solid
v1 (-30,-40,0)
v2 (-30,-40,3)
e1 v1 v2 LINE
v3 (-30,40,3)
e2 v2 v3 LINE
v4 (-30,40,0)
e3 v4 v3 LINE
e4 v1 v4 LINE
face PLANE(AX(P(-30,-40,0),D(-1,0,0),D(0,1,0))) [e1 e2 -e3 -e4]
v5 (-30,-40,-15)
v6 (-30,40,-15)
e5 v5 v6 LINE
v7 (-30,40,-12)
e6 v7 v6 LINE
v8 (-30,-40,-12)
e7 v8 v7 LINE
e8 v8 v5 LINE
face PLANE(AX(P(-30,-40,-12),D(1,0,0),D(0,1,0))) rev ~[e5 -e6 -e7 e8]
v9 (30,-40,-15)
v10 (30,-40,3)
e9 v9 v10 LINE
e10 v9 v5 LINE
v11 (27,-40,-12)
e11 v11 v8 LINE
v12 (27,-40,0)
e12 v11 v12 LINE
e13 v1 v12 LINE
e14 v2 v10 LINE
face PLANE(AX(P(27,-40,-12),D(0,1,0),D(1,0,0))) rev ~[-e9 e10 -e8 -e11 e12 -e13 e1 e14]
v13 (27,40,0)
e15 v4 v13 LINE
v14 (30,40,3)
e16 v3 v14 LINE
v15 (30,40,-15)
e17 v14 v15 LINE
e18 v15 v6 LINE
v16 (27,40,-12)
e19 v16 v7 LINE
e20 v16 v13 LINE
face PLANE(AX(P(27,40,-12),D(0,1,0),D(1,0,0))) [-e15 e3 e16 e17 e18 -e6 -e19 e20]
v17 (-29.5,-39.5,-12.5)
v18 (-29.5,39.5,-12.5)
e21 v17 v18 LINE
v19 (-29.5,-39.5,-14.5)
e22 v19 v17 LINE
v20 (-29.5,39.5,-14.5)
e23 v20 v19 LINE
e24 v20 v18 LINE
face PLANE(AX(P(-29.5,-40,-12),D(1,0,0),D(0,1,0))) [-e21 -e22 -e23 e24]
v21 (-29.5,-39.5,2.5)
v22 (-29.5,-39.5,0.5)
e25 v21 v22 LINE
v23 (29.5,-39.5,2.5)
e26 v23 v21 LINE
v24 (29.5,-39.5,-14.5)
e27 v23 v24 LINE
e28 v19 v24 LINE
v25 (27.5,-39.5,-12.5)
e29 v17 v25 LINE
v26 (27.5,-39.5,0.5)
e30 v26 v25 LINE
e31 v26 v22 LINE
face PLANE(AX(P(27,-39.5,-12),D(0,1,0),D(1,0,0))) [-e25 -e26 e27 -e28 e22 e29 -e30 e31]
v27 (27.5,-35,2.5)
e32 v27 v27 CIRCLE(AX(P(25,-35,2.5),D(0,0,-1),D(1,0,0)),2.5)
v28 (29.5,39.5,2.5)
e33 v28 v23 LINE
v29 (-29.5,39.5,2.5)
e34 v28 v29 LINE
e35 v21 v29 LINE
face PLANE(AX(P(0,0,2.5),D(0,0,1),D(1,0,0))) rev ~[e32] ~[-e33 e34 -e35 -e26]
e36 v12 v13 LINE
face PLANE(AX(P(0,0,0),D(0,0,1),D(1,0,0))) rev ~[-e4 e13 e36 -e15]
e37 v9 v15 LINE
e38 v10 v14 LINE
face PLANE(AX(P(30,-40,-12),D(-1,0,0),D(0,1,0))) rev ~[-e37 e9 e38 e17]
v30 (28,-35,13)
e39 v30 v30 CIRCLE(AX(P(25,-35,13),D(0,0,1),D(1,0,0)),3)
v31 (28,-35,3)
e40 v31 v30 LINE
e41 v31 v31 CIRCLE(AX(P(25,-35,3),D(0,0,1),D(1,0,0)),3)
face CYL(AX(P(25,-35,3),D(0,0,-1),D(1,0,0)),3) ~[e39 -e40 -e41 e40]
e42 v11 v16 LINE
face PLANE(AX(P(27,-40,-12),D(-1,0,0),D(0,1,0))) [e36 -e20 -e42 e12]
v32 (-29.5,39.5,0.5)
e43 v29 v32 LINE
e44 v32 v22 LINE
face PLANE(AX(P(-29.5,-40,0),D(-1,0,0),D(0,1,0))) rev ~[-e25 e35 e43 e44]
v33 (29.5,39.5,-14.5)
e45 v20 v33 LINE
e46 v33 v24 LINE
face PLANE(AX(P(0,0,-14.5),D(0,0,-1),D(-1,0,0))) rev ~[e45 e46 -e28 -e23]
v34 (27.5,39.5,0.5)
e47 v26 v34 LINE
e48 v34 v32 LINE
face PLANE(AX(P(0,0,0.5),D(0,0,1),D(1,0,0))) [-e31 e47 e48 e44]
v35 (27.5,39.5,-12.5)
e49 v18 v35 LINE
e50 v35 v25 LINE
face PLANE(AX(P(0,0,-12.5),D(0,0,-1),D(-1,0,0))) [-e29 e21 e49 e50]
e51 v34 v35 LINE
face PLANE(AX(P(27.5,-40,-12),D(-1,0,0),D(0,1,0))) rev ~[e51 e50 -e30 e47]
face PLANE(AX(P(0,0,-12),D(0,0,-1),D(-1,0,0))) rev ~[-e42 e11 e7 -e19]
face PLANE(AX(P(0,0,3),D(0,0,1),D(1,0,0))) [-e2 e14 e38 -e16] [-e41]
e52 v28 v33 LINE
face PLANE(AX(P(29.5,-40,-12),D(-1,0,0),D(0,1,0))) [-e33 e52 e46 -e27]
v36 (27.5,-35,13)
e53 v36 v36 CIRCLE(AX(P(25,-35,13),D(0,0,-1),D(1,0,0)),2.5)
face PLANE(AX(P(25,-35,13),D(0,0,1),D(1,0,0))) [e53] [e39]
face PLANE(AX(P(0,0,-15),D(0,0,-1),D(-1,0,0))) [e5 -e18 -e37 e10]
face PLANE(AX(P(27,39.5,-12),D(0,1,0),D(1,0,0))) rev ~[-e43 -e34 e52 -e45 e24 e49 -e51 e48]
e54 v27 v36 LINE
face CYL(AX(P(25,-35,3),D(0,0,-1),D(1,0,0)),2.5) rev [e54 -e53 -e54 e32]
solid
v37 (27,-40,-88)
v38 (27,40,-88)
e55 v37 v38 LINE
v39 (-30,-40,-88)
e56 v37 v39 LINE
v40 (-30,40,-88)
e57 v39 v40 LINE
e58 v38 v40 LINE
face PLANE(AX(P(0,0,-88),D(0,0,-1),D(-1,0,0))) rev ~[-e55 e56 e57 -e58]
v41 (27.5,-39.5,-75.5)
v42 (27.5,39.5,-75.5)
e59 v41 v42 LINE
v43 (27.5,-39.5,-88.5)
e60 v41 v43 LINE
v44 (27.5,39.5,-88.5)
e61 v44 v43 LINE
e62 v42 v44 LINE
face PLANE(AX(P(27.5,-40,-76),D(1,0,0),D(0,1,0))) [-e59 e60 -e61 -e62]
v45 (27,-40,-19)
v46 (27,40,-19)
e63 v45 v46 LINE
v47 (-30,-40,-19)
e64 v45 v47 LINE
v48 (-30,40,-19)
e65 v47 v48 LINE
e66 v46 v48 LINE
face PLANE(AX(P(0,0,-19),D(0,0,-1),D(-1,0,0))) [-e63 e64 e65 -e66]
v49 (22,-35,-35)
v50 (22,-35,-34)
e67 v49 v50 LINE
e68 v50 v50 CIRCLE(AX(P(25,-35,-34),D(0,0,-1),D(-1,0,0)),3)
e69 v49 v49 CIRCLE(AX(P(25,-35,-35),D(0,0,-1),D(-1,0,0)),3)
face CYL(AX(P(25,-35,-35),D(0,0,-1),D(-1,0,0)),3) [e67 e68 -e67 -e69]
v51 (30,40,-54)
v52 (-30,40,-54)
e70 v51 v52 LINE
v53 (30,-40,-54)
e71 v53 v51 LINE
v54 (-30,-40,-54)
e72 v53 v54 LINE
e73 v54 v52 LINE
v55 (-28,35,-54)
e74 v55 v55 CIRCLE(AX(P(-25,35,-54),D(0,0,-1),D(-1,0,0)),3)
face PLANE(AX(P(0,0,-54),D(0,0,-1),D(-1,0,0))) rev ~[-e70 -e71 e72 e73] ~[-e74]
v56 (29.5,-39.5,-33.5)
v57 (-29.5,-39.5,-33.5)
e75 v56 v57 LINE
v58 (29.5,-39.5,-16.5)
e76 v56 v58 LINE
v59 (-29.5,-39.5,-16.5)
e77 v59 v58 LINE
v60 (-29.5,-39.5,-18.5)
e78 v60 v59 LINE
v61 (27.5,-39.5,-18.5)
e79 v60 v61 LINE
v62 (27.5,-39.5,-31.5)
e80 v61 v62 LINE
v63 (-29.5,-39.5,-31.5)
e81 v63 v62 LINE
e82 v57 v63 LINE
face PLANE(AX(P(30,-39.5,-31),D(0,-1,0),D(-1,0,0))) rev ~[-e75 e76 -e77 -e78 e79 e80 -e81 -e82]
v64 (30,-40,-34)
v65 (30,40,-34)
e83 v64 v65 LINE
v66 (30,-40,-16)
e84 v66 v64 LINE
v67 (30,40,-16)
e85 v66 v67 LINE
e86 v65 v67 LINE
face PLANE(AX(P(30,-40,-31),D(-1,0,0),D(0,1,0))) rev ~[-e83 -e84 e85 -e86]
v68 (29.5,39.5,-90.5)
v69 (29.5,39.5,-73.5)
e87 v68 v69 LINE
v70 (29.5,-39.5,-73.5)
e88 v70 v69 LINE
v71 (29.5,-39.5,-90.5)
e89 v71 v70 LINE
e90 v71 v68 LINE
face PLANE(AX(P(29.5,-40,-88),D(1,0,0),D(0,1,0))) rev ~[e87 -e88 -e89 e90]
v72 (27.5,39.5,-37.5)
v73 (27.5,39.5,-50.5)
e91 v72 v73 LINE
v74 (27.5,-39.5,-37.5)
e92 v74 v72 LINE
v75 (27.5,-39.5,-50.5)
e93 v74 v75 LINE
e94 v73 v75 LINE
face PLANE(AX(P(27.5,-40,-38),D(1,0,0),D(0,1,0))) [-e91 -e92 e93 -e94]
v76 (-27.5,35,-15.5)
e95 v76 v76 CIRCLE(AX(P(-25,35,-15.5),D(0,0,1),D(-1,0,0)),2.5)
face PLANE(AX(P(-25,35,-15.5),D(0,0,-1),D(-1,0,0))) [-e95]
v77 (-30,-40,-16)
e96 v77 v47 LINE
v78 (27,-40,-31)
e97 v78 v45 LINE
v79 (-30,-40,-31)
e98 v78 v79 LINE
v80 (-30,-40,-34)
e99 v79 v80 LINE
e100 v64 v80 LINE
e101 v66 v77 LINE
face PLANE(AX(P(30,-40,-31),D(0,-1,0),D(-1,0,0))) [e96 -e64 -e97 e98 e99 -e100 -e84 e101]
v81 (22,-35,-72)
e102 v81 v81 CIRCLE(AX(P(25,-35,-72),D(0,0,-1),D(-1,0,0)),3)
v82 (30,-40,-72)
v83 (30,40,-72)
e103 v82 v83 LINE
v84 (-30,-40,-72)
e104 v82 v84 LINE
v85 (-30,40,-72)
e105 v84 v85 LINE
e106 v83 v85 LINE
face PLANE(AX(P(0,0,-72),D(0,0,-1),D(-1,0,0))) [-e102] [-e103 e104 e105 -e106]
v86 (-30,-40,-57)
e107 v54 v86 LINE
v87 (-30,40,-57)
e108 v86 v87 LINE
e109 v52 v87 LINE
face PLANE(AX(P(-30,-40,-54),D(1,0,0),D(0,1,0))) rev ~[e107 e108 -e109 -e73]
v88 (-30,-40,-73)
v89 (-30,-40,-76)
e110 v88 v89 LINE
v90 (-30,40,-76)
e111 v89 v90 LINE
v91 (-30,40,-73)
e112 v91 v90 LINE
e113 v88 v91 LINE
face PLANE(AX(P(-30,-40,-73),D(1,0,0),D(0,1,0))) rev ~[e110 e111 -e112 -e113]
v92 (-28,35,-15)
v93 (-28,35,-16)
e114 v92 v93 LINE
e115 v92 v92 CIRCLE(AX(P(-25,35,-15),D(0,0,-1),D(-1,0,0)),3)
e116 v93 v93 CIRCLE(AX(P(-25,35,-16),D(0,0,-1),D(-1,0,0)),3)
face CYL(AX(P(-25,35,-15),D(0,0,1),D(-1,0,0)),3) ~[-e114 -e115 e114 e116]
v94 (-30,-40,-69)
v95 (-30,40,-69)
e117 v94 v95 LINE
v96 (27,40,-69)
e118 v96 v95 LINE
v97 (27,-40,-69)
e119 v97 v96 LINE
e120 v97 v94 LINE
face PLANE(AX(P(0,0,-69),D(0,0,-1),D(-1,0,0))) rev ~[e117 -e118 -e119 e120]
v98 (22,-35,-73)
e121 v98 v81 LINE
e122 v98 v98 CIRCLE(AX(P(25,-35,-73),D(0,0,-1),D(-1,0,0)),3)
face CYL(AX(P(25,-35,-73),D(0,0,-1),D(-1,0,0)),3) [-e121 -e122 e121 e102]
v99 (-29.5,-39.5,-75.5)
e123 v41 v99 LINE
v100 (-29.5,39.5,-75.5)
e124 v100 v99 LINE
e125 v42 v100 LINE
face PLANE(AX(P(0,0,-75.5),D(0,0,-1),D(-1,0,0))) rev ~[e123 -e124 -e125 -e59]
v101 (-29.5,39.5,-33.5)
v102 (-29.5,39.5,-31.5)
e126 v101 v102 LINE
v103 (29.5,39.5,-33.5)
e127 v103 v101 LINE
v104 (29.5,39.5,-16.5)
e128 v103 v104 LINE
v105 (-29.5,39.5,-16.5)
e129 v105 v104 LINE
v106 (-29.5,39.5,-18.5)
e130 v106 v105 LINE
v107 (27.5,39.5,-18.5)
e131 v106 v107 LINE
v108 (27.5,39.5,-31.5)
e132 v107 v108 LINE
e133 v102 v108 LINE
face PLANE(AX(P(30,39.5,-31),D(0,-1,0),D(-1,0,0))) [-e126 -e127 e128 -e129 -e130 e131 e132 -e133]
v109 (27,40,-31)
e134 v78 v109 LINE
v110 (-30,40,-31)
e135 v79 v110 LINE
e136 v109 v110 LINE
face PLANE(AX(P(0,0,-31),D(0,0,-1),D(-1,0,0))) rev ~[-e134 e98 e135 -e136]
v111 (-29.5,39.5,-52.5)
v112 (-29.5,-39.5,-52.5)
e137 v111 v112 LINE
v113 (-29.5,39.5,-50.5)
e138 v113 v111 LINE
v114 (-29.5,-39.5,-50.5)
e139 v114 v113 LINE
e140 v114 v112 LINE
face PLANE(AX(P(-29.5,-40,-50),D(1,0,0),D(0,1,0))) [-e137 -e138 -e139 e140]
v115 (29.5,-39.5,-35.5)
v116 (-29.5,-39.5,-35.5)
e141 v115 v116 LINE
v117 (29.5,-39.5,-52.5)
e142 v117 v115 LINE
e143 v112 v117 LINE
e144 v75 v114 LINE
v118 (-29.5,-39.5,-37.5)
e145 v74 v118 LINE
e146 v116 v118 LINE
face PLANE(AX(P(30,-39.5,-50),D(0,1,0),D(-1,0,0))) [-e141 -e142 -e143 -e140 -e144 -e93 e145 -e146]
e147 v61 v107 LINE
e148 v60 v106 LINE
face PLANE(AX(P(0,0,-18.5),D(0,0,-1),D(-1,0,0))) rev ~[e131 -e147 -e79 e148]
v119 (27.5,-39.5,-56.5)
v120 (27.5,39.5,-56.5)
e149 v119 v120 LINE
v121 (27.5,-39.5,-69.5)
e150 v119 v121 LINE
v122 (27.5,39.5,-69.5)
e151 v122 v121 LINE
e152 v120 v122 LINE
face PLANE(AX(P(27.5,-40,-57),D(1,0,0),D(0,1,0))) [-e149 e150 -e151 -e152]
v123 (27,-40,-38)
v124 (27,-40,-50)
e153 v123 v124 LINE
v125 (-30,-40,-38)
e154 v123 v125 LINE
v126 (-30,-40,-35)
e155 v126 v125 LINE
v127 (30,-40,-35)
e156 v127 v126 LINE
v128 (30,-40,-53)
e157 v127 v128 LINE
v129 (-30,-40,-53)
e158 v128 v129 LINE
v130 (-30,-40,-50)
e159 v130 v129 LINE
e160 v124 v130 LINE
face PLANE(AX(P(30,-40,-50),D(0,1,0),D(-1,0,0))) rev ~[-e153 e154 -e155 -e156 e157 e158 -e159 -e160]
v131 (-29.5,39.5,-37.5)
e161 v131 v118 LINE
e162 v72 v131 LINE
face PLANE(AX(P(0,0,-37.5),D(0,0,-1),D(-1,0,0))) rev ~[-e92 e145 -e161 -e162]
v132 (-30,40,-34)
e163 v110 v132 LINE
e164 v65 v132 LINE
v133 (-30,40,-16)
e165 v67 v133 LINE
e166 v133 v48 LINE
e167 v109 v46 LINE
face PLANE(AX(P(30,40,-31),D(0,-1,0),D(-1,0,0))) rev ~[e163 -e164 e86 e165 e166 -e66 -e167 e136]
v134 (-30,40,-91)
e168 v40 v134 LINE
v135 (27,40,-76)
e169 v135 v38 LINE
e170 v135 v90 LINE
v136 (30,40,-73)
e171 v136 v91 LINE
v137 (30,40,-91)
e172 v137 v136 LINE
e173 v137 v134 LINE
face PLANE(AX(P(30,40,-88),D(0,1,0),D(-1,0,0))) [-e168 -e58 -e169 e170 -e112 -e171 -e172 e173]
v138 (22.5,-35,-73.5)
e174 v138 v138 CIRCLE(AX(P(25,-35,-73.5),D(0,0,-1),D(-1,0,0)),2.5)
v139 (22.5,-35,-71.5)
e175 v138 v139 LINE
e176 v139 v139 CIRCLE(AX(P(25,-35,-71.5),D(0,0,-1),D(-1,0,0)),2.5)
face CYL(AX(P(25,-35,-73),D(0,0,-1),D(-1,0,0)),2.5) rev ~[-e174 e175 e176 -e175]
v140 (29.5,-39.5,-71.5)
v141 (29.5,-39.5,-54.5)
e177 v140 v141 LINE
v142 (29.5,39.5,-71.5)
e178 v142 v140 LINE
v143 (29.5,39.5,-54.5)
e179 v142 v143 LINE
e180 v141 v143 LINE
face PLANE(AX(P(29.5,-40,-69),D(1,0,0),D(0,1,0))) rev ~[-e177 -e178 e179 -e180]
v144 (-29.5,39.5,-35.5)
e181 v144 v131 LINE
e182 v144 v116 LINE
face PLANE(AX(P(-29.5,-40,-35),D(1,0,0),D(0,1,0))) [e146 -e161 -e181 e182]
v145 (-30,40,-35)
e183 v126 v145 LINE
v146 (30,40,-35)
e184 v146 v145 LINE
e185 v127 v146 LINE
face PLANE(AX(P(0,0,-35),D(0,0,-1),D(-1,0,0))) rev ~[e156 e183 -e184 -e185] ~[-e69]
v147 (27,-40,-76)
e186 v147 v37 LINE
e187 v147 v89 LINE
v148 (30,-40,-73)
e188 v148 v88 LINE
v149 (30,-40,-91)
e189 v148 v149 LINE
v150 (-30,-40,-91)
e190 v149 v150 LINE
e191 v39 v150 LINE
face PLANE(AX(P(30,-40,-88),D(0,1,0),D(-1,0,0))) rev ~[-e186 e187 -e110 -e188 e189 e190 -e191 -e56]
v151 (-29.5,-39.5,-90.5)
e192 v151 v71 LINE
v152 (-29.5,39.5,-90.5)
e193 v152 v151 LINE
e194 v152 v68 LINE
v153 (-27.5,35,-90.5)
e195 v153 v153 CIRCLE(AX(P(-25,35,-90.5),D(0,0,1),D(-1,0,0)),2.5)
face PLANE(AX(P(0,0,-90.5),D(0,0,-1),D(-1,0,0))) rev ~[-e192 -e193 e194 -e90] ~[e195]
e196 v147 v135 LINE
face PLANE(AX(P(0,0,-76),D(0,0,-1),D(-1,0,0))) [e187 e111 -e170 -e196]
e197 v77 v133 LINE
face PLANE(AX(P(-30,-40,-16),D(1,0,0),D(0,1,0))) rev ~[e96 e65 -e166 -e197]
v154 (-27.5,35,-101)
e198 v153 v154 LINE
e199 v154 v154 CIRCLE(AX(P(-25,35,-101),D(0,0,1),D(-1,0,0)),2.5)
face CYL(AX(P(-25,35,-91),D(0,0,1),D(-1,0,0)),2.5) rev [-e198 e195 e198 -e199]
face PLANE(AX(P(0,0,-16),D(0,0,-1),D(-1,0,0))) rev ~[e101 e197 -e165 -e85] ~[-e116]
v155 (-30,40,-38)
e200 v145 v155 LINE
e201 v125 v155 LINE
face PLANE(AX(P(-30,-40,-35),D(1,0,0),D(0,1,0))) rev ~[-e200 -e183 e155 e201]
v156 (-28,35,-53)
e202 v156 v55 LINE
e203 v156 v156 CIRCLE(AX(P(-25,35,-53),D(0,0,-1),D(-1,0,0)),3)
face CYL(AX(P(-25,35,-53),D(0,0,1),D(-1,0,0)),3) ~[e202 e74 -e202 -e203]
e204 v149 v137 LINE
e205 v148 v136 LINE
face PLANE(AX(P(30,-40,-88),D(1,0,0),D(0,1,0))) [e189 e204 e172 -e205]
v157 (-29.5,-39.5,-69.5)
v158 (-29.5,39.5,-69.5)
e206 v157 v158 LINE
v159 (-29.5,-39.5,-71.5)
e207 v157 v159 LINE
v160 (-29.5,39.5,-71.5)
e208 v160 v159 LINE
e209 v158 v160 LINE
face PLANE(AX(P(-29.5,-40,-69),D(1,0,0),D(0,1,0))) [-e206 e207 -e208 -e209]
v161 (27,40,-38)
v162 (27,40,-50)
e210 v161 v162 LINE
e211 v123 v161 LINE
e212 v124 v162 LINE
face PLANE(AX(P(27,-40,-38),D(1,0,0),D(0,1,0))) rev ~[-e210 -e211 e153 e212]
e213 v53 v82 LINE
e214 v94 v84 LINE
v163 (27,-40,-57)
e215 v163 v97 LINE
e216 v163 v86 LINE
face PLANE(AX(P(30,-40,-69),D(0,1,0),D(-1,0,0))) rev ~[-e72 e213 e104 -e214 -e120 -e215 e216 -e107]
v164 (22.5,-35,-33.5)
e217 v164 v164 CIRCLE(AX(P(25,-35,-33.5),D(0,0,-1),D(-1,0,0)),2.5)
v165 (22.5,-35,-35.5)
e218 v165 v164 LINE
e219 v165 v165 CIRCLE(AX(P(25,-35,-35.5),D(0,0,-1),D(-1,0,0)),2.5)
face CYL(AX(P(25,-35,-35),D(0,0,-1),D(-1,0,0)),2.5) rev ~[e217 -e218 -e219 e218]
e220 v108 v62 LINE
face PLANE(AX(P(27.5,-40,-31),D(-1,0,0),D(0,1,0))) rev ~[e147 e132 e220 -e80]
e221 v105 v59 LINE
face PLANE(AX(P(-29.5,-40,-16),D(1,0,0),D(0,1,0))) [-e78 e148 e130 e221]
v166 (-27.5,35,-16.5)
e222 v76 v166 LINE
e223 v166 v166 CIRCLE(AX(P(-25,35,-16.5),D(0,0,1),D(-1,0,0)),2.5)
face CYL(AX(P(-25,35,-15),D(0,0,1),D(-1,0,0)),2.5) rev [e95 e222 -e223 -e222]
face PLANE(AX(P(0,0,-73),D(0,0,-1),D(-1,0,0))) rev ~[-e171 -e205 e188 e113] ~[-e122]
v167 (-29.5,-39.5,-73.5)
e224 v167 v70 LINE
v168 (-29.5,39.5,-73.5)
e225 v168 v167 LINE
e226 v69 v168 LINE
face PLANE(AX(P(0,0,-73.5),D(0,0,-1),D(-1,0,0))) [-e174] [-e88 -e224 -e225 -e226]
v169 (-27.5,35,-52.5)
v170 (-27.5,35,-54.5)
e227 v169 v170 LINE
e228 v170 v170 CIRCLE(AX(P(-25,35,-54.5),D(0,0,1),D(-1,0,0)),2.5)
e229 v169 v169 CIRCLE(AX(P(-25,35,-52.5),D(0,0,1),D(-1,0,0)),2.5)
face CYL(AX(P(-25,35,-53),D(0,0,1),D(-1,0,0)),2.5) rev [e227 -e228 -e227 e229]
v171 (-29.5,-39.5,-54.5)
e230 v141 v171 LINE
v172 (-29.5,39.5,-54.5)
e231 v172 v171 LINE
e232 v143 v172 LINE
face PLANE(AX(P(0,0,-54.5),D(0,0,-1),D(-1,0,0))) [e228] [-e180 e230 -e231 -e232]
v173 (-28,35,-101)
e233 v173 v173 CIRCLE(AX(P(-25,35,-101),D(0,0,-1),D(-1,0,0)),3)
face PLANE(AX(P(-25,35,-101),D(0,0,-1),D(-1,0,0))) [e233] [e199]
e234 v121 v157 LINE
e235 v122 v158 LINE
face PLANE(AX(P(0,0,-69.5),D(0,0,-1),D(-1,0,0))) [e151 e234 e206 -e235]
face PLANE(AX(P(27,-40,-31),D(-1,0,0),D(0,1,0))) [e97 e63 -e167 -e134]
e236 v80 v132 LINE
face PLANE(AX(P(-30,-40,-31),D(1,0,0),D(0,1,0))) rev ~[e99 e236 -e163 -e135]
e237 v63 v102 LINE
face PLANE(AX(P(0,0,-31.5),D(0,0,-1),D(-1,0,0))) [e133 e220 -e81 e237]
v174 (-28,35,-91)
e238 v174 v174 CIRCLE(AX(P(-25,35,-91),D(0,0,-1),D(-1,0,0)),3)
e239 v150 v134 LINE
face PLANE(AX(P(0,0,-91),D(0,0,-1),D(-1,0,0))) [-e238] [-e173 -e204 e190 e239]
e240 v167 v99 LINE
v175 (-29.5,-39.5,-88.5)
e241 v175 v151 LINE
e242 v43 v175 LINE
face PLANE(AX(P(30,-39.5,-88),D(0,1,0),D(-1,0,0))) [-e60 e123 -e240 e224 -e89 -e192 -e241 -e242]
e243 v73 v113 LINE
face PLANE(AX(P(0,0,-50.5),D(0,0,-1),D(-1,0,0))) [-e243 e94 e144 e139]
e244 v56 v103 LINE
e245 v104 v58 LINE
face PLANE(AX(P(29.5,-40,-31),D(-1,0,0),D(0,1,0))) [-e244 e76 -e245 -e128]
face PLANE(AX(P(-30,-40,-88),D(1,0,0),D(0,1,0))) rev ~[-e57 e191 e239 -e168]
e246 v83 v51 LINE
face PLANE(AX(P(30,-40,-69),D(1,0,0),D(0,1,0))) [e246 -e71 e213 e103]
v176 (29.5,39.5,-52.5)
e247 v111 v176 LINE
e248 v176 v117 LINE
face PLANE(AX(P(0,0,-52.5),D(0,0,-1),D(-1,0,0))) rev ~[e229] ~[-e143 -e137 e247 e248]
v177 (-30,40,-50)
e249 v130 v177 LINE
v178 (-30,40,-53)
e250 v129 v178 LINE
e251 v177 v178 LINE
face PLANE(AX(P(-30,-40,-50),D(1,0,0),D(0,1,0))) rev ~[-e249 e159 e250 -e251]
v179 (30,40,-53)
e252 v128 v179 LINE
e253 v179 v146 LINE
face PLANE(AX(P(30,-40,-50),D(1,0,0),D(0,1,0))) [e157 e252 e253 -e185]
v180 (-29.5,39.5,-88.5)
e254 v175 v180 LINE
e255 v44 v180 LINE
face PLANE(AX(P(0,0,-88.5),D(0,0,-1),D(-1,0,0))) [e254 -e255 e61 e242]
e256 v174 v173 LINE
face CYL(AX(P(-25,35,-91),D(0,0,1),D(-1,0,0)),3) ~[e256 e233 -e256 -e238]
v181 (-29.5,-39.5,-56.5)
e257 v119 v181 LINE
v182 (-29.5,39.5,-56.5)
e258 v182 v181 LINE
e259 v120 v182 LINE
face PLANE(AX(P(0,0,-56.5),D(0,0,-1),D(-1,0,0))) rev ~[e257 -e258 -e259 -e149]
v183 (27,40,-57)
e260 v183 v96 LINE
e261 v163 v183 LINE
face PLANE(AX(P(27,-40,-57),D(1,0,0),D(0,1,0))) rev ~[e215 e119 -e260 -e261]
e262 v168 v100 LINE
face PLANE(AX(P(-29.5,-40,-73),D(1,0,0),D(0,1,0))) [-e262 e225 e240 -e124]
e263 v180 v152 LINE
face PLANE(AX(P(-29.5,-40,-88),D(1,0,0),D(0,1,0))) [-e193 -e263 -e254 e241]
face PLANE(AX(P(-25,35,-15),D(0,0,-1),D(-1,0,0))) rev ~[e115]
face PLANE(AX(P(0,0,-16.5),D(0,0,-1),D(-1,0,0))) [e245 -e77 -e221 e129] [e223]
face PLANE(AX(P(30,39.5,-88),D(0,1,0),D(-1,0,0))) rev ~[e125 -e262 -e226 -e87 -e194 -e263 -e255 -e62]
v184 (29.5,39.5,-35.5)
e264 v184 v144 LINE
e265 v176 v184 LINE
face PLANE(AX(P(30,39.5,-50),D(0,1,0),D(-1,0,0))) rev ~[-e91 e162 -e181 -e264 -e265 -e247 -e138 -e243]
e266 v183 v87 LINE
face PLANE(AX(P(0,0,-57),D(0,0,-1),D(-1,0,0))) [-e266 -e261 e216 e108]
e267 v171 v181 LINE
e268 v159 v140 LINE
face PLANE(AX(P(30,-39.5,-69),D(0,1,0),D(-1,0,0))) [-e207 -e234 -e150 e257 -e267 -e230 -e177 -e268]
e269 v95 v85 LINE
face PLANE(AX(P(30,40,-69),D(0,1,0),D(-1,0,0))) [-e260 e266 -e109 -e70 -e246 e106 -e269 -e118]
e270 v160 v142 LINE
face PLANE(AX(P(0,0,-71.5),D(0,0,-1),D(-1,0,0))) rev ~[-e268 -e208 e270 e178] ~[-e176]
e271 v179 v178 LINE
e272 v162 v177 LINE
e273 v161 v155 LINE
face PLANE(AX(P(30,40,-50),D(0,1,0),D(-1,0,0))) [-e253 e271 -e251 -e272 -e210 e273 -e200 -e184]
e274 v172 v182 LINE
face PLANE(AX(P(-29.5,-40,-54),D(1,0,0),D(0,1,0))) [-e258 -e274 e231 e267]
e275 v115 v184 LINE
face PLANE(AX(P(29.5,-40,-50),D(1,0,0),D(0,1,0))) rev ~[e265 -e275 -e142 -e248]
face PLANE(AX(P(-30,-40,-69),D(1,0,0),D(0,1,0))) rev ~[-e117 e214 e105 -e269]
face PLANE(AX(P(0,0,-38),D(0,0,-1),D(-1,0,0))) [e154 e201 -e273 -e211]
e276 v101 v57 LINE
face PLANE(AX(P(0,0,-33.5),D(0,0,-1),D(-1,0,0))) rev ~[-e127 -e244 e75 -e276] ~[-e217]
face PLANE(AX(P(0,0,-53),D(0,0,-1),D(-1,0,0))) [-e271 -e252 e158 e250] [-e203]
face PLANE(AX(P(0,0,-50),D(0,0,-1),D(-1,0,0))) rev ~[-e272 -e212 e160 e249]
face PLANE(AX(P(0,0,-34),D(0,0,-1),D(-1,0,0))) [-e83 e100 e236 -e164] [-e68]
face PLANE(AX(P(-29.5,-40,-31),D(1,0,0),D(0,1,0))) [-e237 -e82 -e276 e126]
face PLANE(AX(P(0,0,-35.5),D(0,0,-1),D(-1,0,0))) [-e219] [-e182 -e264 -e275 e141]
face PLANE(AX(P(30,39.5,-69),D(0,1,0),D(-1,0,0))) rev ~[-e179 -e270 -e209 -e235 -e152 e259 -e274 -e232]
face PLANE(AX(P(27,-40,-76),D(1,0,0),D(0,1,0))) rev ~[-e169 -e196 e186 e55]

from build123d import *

# Parameters (mm, degrees)
SKETCH_1_W       = 60
SKETCH_1_H       = 80
EXTRUDE_1_DEPTH  = 3
SKETCH_2_W       = 60
SKETCH_2_H       = 80
EXTRUDE_2_DEPTH  = 3
SKETCH_4_R       = 3
EXTRUDE_5_DEPTH  = 10
SKETCH_6_R       = 3
EXTRUDE_7_DEPTH  = 1
SKETCH_7_W       = 60
SKETCH_7_H       = 80
EXTRUDE_8_DEPTH  = 3
SKETCH_10_W      = 3
SKETCH_10_H      = 80
EXTRUDE_11_DEPTH = 12
SKETCH_11_W      = 60
SKETCH_11_H      = 80
EXTRUDE_12_DEPTH = 3
SKETCH_12_W      = 3
SKETCH_12_H      = 80
EXTRUDE_13_DEPTH = 12
EXTRUDE_START    = 1
SKETCH_13_R      = 3
EXTRUDE_14_DEPTH = 1
SKETCH_14_W      = 60
SKETCH_14_H      = 80
EXTRUDE_15_DEPTH = 3
SKETCH_16_W      = 3
SKETCH_16_H      = 80
EXTRUDE_16_DEPTH = 12
SKETCH_18_W      = 60
SKETCH_18_H      = 80
EXTRUDE_17_DEPTH = 3
SKETCH_20_R      = 3
EXTRUDE_18_DEPTH = 1
SKETCH_21_W      = 60
SKETCH_21_H      = 80
EXTRUDE_19_DEPTH = 3
SKETCH_22_W      = 3
SKETCH_22_H      = 80
EXTRUDE_20_DEPTH = 12
SKETCH_23_W      = 60
SKETCH_23_H      = 80
EXTRUDE_21_DEPTH = 3
SKETCH_24_R      = 3
EXTRUDE_22_DEPTH = 1
SKETCH_25_W      = 60
SKETCH_25_H      = 80
EXTRUDE_23_DEPTH = 3
SKETCH_26_W      = 3
SKETCH_26_H      = 80
EXTRUDE_24_DEPTH = 12
SKETCH_28_W      = 60
SKETCH_28_H      = 80
EXTRUDE_25_DEPTH = 3
SKETCH_29_R      = 3
EXTRUDE_26_DEPTH = 10
SHELL_1_T        = -0.5
SHELL_2_T        = -0.5


with BuildPart() as part:
    # 草图1 → 凸台-拉伸1 (new body)
    with BuildSketch(Plane.XY):
        Rectangle(SKETCH_1_W, SKETCH_1_H)
    extrude(amount=EXTRUDE_1_DEPTH)

    # 草图4 → 凸台-拉伸5 (add)
    with BuildSketch(Plane.XY.offset(3)):
        with Locations((25, -35)):
            Circle(SKETCH_4_R)
    extrude(amount=EXTRUDE_5_DEPTH)



with BuildPart() as body_2:
    # 草图2 → 凸台-拉伸2 (new body)
    with BuildSketch(Plane(origin=(0, 0, -12), x_dir=(-1, 0, 0), z_dir=(0, 0, -1))):
        Rectangle(SKETCH_2_W, SKETCH_2_H)
    extrude(amount=EXTRUDE_2_DEPTH)


with BuildPart() as body_3:
    # 草图6 → 凸台-拉伸7 (new body)
    with BuildSketch(Plane(origin=(0, 0, -15), x_dir=(-1, 0, 0), z_dir=(0, 0, -1))):
        with Locations((25, 35)):
            Circle(SKETCH_6_R)
    extrude(amount=EXTRUDE_7_DEPTH)

    # 草图7 → 凸台-拉伸8 (add)
    with BuildSketch(Plane(origin=(0, 0, -16), x_dir=(-1, 0, 0), z_dir=(0, 0, -1))):
        Rectangle(SKETCH_7_W, SKETCH_7_H)
    extrude(amount=EXTRUDE_8_DEPTH)



with BuildPart() as part_1:
    add(part.part)

    add(body_2.part)  # 凸台-拉伸11 merges body 2
    # 草图10 → 凸台-拉伸11 (add)
    with BuildSketch(Plane.XY.offset(-12)):
        with Locations((28.5, 0)):
            Rectangle(SKETCH_10_W, SKETCH_10_H)
    extrude(amount=EXTRUDE_11_DEPTH)

    # 抽壳1
    shell_1_openings = [part_1.faces().sort_by_distance(p)[0] for p in [
        (25, -35, 13),
    ]]
    offset(amount=SHELL_1_T, openings=shell_1_openings, kind=Kind.INTERSECTION)


with BuildPart() as body_3_2:
    # 草图11 → 凸台-拉伸12 (new body)
    with BuildSketch(Plane(origin=(0, 0, -31), x_dir=(-1, 0, 0), z_dir=(0, 0, -1))):
        Rectangle(SKETCH_11_W, SKETCH_11_H)
    extrude(amount=EXTRUDE_12_DEPTH)


with BuildPart() as body_3_1:
    add(body_3.part)

    add(body_3_2.part)  # 凸台-拉伸13 merges body 3 2
    # 草图12 → 凸台-拉伸13 (add)
    with BuildSketch(Plane(origin=(0, 0, -31), x_dir=(-1, 0, 0), z_dir=(0, 0, -1))):
        with Locations((-28.5, 0)):
            Rectangle(SKETCH_12_W, SKETCH_12_H)
    extrude(amount=-EXTRUDE_13_DEPTH)

    # 草图13 → 凸台-拉伸14 (add)
    with BuildSketch(Plane(origin=(0, 0, -34), x_dir=(-1, 0, 0), z_dir=(0, 0, -1)).offset(EXTRUDE_START)):
        with Locations((-25, -35)):
            Circle(SKETCH_13_R)
    extrude(amount=-EXTRUDE_14_DEPTH)

    # 草图14 → 凸台-拉伸15 (add)
    with BuildSketch(Plane(origin=(0, 0, -35), x_dir=(-1, 0, 0), z_dir=(0, 0, -1))):
        Rectangle(SKETCH_14_W, SKETCH_14_H)
    extrude(amount=EXTRUDE_15_DEPTH)

    # 草图16 → 凸台-拉伸16 (add)
    with BuildSketch(Plane(origin=(0, 0, -38), x_dir=(-1, 0, 0), z_dir=(0, 0, -1))):
        with Locations((-28.5, 0)):
            Rectangle(SKETCH_16_W, SKETCH_16_H)
    extrude(amount=EXTRUDE_16_DEPTH)

    # 草图18 → 凸台-拉伸17 (add)
    with BuildSketch(Plane(origin=(0, 0, -50), x_dir=(-1, 0, 0), z_dir=(0, 0, -1))):
        Rectangle(SKETCH_18_W, SKETCH_18_H)
    extrude(amount=EXTRUDE_17_DEPTH)

    # 草图20 → 凸台-拉伸18 (add)
    with BuildSketch(Plane(origin=(0, 0, -53), x_dir=(-1, 0, 0), z_dir=(0, 0, -1))):
        with Locations((25, 35)):
            Circle(SKETCH_20_R)
    extrude(amount=EXTRUDE_18_DEPTH)

    # 草图21 → 凸台-拉伸19 (add)
    with BuildSketch(Plane(origin=(0, 0, -54), x_dir=(-1, 0, 0), z_dir=(0, 0, -1))):
        Rectangle(SKETCH_21_W, SKETCH_21_H)
    extrude(amount=EXTRUDE_19_DEPTH)

    # 草图22 → 凸台-拉伸20 (add)
    with BuildSketch(Plane(origin=(0, 0, -57), x_dir=(-1, 0, 0), z_dir=(0, 0, -1))):
        with Locations((-28.5, 0)):
            Rectangle(SKETCH_22_W, SKETCH_22_H)
    extrude(amount=EXTRUDE_20_DEPTH)

    # 草图23 → 凸台-拉伸21 (add)
    with BuildSketch(Plane(origin=(0, 0, -69), x_dir=(-1, 0, 0), z_dir=(0, 0, -1))):
        Rectangle(SKETCH_23_W, SKETCH_23_H)
    extrude(amount=EXTRUDE_21_DEPTH)

    # 草图24 → 凸台-拉伸22 (add)
    with BuildSketch(Plane(origin=(0, 0, -72), x_dir=(-1, 0, 0), z_dir=(0, 0, -1)).offset(EXTRUDE_START)):
        with Locations((-25, -35)):
            Circle(SKETCH_24_R)
    extrude(amount=-EXTRUDE_22_DEPTH)

    # 草图25 → 凸台-拉伸23 (add)
    with BuildSketch(Plane(origin=(0, 0, -73), x_dir=(-1, 0, 0), z_dir=(0, 0, -1))):
        Rectangle(SKETCH_25_W, SKETCH_25_H)
    extrude(amount=EXTRUDE_23_DEPTH)

    # 草图26 → 凸台-拉伸24 (add)
    with BuildSketch(Plane(origin=(0, 0, -76), x_dir=(-1, 0, 0), z_dir=(0, 0, -1))):
        with Locations((-28.5, 0)):
            Rectangle(SKETCH_26_W, SKETCH_26_H)
    extrude(amount=EXTRUDE_24_DEPTH)

    # 草图28 → 凸台-拉伸25 (add)
    with BuildSketch(Plane(origin=(0, 0, -88), x_dir=(-1, 0, 0), z_dir=(0, 0, -1))):
        Rectangle(SKETCH_28_W, SKETCH_28_H)
    extrude(amount=EXTRUDE_25_DEPTH)

    # 草图29 → 凸台-拉伸26 (add)
    with BuildSketch(Plane(origin=(0, 0, -91), x_dir=(-1, 0, 0), z_dir=(0, 0, -1))):
        with Locations((25, 35)):
            Circle(SKETCH_29_R)
    extrude(amount=EXTRUDE_26_DEPTH)

    # 抽壳2
    shell_2_openings = [body_3_1.faces().sort_by_distance(p)[0] for p in [
        (-25, 35, -101),
    ]]
    offset(amount=SHELL_2_T, openings=shell_2_openings, kind=Kind.INTERSECTION)


solid = Compound([part_1.part, body_3_1.part])
